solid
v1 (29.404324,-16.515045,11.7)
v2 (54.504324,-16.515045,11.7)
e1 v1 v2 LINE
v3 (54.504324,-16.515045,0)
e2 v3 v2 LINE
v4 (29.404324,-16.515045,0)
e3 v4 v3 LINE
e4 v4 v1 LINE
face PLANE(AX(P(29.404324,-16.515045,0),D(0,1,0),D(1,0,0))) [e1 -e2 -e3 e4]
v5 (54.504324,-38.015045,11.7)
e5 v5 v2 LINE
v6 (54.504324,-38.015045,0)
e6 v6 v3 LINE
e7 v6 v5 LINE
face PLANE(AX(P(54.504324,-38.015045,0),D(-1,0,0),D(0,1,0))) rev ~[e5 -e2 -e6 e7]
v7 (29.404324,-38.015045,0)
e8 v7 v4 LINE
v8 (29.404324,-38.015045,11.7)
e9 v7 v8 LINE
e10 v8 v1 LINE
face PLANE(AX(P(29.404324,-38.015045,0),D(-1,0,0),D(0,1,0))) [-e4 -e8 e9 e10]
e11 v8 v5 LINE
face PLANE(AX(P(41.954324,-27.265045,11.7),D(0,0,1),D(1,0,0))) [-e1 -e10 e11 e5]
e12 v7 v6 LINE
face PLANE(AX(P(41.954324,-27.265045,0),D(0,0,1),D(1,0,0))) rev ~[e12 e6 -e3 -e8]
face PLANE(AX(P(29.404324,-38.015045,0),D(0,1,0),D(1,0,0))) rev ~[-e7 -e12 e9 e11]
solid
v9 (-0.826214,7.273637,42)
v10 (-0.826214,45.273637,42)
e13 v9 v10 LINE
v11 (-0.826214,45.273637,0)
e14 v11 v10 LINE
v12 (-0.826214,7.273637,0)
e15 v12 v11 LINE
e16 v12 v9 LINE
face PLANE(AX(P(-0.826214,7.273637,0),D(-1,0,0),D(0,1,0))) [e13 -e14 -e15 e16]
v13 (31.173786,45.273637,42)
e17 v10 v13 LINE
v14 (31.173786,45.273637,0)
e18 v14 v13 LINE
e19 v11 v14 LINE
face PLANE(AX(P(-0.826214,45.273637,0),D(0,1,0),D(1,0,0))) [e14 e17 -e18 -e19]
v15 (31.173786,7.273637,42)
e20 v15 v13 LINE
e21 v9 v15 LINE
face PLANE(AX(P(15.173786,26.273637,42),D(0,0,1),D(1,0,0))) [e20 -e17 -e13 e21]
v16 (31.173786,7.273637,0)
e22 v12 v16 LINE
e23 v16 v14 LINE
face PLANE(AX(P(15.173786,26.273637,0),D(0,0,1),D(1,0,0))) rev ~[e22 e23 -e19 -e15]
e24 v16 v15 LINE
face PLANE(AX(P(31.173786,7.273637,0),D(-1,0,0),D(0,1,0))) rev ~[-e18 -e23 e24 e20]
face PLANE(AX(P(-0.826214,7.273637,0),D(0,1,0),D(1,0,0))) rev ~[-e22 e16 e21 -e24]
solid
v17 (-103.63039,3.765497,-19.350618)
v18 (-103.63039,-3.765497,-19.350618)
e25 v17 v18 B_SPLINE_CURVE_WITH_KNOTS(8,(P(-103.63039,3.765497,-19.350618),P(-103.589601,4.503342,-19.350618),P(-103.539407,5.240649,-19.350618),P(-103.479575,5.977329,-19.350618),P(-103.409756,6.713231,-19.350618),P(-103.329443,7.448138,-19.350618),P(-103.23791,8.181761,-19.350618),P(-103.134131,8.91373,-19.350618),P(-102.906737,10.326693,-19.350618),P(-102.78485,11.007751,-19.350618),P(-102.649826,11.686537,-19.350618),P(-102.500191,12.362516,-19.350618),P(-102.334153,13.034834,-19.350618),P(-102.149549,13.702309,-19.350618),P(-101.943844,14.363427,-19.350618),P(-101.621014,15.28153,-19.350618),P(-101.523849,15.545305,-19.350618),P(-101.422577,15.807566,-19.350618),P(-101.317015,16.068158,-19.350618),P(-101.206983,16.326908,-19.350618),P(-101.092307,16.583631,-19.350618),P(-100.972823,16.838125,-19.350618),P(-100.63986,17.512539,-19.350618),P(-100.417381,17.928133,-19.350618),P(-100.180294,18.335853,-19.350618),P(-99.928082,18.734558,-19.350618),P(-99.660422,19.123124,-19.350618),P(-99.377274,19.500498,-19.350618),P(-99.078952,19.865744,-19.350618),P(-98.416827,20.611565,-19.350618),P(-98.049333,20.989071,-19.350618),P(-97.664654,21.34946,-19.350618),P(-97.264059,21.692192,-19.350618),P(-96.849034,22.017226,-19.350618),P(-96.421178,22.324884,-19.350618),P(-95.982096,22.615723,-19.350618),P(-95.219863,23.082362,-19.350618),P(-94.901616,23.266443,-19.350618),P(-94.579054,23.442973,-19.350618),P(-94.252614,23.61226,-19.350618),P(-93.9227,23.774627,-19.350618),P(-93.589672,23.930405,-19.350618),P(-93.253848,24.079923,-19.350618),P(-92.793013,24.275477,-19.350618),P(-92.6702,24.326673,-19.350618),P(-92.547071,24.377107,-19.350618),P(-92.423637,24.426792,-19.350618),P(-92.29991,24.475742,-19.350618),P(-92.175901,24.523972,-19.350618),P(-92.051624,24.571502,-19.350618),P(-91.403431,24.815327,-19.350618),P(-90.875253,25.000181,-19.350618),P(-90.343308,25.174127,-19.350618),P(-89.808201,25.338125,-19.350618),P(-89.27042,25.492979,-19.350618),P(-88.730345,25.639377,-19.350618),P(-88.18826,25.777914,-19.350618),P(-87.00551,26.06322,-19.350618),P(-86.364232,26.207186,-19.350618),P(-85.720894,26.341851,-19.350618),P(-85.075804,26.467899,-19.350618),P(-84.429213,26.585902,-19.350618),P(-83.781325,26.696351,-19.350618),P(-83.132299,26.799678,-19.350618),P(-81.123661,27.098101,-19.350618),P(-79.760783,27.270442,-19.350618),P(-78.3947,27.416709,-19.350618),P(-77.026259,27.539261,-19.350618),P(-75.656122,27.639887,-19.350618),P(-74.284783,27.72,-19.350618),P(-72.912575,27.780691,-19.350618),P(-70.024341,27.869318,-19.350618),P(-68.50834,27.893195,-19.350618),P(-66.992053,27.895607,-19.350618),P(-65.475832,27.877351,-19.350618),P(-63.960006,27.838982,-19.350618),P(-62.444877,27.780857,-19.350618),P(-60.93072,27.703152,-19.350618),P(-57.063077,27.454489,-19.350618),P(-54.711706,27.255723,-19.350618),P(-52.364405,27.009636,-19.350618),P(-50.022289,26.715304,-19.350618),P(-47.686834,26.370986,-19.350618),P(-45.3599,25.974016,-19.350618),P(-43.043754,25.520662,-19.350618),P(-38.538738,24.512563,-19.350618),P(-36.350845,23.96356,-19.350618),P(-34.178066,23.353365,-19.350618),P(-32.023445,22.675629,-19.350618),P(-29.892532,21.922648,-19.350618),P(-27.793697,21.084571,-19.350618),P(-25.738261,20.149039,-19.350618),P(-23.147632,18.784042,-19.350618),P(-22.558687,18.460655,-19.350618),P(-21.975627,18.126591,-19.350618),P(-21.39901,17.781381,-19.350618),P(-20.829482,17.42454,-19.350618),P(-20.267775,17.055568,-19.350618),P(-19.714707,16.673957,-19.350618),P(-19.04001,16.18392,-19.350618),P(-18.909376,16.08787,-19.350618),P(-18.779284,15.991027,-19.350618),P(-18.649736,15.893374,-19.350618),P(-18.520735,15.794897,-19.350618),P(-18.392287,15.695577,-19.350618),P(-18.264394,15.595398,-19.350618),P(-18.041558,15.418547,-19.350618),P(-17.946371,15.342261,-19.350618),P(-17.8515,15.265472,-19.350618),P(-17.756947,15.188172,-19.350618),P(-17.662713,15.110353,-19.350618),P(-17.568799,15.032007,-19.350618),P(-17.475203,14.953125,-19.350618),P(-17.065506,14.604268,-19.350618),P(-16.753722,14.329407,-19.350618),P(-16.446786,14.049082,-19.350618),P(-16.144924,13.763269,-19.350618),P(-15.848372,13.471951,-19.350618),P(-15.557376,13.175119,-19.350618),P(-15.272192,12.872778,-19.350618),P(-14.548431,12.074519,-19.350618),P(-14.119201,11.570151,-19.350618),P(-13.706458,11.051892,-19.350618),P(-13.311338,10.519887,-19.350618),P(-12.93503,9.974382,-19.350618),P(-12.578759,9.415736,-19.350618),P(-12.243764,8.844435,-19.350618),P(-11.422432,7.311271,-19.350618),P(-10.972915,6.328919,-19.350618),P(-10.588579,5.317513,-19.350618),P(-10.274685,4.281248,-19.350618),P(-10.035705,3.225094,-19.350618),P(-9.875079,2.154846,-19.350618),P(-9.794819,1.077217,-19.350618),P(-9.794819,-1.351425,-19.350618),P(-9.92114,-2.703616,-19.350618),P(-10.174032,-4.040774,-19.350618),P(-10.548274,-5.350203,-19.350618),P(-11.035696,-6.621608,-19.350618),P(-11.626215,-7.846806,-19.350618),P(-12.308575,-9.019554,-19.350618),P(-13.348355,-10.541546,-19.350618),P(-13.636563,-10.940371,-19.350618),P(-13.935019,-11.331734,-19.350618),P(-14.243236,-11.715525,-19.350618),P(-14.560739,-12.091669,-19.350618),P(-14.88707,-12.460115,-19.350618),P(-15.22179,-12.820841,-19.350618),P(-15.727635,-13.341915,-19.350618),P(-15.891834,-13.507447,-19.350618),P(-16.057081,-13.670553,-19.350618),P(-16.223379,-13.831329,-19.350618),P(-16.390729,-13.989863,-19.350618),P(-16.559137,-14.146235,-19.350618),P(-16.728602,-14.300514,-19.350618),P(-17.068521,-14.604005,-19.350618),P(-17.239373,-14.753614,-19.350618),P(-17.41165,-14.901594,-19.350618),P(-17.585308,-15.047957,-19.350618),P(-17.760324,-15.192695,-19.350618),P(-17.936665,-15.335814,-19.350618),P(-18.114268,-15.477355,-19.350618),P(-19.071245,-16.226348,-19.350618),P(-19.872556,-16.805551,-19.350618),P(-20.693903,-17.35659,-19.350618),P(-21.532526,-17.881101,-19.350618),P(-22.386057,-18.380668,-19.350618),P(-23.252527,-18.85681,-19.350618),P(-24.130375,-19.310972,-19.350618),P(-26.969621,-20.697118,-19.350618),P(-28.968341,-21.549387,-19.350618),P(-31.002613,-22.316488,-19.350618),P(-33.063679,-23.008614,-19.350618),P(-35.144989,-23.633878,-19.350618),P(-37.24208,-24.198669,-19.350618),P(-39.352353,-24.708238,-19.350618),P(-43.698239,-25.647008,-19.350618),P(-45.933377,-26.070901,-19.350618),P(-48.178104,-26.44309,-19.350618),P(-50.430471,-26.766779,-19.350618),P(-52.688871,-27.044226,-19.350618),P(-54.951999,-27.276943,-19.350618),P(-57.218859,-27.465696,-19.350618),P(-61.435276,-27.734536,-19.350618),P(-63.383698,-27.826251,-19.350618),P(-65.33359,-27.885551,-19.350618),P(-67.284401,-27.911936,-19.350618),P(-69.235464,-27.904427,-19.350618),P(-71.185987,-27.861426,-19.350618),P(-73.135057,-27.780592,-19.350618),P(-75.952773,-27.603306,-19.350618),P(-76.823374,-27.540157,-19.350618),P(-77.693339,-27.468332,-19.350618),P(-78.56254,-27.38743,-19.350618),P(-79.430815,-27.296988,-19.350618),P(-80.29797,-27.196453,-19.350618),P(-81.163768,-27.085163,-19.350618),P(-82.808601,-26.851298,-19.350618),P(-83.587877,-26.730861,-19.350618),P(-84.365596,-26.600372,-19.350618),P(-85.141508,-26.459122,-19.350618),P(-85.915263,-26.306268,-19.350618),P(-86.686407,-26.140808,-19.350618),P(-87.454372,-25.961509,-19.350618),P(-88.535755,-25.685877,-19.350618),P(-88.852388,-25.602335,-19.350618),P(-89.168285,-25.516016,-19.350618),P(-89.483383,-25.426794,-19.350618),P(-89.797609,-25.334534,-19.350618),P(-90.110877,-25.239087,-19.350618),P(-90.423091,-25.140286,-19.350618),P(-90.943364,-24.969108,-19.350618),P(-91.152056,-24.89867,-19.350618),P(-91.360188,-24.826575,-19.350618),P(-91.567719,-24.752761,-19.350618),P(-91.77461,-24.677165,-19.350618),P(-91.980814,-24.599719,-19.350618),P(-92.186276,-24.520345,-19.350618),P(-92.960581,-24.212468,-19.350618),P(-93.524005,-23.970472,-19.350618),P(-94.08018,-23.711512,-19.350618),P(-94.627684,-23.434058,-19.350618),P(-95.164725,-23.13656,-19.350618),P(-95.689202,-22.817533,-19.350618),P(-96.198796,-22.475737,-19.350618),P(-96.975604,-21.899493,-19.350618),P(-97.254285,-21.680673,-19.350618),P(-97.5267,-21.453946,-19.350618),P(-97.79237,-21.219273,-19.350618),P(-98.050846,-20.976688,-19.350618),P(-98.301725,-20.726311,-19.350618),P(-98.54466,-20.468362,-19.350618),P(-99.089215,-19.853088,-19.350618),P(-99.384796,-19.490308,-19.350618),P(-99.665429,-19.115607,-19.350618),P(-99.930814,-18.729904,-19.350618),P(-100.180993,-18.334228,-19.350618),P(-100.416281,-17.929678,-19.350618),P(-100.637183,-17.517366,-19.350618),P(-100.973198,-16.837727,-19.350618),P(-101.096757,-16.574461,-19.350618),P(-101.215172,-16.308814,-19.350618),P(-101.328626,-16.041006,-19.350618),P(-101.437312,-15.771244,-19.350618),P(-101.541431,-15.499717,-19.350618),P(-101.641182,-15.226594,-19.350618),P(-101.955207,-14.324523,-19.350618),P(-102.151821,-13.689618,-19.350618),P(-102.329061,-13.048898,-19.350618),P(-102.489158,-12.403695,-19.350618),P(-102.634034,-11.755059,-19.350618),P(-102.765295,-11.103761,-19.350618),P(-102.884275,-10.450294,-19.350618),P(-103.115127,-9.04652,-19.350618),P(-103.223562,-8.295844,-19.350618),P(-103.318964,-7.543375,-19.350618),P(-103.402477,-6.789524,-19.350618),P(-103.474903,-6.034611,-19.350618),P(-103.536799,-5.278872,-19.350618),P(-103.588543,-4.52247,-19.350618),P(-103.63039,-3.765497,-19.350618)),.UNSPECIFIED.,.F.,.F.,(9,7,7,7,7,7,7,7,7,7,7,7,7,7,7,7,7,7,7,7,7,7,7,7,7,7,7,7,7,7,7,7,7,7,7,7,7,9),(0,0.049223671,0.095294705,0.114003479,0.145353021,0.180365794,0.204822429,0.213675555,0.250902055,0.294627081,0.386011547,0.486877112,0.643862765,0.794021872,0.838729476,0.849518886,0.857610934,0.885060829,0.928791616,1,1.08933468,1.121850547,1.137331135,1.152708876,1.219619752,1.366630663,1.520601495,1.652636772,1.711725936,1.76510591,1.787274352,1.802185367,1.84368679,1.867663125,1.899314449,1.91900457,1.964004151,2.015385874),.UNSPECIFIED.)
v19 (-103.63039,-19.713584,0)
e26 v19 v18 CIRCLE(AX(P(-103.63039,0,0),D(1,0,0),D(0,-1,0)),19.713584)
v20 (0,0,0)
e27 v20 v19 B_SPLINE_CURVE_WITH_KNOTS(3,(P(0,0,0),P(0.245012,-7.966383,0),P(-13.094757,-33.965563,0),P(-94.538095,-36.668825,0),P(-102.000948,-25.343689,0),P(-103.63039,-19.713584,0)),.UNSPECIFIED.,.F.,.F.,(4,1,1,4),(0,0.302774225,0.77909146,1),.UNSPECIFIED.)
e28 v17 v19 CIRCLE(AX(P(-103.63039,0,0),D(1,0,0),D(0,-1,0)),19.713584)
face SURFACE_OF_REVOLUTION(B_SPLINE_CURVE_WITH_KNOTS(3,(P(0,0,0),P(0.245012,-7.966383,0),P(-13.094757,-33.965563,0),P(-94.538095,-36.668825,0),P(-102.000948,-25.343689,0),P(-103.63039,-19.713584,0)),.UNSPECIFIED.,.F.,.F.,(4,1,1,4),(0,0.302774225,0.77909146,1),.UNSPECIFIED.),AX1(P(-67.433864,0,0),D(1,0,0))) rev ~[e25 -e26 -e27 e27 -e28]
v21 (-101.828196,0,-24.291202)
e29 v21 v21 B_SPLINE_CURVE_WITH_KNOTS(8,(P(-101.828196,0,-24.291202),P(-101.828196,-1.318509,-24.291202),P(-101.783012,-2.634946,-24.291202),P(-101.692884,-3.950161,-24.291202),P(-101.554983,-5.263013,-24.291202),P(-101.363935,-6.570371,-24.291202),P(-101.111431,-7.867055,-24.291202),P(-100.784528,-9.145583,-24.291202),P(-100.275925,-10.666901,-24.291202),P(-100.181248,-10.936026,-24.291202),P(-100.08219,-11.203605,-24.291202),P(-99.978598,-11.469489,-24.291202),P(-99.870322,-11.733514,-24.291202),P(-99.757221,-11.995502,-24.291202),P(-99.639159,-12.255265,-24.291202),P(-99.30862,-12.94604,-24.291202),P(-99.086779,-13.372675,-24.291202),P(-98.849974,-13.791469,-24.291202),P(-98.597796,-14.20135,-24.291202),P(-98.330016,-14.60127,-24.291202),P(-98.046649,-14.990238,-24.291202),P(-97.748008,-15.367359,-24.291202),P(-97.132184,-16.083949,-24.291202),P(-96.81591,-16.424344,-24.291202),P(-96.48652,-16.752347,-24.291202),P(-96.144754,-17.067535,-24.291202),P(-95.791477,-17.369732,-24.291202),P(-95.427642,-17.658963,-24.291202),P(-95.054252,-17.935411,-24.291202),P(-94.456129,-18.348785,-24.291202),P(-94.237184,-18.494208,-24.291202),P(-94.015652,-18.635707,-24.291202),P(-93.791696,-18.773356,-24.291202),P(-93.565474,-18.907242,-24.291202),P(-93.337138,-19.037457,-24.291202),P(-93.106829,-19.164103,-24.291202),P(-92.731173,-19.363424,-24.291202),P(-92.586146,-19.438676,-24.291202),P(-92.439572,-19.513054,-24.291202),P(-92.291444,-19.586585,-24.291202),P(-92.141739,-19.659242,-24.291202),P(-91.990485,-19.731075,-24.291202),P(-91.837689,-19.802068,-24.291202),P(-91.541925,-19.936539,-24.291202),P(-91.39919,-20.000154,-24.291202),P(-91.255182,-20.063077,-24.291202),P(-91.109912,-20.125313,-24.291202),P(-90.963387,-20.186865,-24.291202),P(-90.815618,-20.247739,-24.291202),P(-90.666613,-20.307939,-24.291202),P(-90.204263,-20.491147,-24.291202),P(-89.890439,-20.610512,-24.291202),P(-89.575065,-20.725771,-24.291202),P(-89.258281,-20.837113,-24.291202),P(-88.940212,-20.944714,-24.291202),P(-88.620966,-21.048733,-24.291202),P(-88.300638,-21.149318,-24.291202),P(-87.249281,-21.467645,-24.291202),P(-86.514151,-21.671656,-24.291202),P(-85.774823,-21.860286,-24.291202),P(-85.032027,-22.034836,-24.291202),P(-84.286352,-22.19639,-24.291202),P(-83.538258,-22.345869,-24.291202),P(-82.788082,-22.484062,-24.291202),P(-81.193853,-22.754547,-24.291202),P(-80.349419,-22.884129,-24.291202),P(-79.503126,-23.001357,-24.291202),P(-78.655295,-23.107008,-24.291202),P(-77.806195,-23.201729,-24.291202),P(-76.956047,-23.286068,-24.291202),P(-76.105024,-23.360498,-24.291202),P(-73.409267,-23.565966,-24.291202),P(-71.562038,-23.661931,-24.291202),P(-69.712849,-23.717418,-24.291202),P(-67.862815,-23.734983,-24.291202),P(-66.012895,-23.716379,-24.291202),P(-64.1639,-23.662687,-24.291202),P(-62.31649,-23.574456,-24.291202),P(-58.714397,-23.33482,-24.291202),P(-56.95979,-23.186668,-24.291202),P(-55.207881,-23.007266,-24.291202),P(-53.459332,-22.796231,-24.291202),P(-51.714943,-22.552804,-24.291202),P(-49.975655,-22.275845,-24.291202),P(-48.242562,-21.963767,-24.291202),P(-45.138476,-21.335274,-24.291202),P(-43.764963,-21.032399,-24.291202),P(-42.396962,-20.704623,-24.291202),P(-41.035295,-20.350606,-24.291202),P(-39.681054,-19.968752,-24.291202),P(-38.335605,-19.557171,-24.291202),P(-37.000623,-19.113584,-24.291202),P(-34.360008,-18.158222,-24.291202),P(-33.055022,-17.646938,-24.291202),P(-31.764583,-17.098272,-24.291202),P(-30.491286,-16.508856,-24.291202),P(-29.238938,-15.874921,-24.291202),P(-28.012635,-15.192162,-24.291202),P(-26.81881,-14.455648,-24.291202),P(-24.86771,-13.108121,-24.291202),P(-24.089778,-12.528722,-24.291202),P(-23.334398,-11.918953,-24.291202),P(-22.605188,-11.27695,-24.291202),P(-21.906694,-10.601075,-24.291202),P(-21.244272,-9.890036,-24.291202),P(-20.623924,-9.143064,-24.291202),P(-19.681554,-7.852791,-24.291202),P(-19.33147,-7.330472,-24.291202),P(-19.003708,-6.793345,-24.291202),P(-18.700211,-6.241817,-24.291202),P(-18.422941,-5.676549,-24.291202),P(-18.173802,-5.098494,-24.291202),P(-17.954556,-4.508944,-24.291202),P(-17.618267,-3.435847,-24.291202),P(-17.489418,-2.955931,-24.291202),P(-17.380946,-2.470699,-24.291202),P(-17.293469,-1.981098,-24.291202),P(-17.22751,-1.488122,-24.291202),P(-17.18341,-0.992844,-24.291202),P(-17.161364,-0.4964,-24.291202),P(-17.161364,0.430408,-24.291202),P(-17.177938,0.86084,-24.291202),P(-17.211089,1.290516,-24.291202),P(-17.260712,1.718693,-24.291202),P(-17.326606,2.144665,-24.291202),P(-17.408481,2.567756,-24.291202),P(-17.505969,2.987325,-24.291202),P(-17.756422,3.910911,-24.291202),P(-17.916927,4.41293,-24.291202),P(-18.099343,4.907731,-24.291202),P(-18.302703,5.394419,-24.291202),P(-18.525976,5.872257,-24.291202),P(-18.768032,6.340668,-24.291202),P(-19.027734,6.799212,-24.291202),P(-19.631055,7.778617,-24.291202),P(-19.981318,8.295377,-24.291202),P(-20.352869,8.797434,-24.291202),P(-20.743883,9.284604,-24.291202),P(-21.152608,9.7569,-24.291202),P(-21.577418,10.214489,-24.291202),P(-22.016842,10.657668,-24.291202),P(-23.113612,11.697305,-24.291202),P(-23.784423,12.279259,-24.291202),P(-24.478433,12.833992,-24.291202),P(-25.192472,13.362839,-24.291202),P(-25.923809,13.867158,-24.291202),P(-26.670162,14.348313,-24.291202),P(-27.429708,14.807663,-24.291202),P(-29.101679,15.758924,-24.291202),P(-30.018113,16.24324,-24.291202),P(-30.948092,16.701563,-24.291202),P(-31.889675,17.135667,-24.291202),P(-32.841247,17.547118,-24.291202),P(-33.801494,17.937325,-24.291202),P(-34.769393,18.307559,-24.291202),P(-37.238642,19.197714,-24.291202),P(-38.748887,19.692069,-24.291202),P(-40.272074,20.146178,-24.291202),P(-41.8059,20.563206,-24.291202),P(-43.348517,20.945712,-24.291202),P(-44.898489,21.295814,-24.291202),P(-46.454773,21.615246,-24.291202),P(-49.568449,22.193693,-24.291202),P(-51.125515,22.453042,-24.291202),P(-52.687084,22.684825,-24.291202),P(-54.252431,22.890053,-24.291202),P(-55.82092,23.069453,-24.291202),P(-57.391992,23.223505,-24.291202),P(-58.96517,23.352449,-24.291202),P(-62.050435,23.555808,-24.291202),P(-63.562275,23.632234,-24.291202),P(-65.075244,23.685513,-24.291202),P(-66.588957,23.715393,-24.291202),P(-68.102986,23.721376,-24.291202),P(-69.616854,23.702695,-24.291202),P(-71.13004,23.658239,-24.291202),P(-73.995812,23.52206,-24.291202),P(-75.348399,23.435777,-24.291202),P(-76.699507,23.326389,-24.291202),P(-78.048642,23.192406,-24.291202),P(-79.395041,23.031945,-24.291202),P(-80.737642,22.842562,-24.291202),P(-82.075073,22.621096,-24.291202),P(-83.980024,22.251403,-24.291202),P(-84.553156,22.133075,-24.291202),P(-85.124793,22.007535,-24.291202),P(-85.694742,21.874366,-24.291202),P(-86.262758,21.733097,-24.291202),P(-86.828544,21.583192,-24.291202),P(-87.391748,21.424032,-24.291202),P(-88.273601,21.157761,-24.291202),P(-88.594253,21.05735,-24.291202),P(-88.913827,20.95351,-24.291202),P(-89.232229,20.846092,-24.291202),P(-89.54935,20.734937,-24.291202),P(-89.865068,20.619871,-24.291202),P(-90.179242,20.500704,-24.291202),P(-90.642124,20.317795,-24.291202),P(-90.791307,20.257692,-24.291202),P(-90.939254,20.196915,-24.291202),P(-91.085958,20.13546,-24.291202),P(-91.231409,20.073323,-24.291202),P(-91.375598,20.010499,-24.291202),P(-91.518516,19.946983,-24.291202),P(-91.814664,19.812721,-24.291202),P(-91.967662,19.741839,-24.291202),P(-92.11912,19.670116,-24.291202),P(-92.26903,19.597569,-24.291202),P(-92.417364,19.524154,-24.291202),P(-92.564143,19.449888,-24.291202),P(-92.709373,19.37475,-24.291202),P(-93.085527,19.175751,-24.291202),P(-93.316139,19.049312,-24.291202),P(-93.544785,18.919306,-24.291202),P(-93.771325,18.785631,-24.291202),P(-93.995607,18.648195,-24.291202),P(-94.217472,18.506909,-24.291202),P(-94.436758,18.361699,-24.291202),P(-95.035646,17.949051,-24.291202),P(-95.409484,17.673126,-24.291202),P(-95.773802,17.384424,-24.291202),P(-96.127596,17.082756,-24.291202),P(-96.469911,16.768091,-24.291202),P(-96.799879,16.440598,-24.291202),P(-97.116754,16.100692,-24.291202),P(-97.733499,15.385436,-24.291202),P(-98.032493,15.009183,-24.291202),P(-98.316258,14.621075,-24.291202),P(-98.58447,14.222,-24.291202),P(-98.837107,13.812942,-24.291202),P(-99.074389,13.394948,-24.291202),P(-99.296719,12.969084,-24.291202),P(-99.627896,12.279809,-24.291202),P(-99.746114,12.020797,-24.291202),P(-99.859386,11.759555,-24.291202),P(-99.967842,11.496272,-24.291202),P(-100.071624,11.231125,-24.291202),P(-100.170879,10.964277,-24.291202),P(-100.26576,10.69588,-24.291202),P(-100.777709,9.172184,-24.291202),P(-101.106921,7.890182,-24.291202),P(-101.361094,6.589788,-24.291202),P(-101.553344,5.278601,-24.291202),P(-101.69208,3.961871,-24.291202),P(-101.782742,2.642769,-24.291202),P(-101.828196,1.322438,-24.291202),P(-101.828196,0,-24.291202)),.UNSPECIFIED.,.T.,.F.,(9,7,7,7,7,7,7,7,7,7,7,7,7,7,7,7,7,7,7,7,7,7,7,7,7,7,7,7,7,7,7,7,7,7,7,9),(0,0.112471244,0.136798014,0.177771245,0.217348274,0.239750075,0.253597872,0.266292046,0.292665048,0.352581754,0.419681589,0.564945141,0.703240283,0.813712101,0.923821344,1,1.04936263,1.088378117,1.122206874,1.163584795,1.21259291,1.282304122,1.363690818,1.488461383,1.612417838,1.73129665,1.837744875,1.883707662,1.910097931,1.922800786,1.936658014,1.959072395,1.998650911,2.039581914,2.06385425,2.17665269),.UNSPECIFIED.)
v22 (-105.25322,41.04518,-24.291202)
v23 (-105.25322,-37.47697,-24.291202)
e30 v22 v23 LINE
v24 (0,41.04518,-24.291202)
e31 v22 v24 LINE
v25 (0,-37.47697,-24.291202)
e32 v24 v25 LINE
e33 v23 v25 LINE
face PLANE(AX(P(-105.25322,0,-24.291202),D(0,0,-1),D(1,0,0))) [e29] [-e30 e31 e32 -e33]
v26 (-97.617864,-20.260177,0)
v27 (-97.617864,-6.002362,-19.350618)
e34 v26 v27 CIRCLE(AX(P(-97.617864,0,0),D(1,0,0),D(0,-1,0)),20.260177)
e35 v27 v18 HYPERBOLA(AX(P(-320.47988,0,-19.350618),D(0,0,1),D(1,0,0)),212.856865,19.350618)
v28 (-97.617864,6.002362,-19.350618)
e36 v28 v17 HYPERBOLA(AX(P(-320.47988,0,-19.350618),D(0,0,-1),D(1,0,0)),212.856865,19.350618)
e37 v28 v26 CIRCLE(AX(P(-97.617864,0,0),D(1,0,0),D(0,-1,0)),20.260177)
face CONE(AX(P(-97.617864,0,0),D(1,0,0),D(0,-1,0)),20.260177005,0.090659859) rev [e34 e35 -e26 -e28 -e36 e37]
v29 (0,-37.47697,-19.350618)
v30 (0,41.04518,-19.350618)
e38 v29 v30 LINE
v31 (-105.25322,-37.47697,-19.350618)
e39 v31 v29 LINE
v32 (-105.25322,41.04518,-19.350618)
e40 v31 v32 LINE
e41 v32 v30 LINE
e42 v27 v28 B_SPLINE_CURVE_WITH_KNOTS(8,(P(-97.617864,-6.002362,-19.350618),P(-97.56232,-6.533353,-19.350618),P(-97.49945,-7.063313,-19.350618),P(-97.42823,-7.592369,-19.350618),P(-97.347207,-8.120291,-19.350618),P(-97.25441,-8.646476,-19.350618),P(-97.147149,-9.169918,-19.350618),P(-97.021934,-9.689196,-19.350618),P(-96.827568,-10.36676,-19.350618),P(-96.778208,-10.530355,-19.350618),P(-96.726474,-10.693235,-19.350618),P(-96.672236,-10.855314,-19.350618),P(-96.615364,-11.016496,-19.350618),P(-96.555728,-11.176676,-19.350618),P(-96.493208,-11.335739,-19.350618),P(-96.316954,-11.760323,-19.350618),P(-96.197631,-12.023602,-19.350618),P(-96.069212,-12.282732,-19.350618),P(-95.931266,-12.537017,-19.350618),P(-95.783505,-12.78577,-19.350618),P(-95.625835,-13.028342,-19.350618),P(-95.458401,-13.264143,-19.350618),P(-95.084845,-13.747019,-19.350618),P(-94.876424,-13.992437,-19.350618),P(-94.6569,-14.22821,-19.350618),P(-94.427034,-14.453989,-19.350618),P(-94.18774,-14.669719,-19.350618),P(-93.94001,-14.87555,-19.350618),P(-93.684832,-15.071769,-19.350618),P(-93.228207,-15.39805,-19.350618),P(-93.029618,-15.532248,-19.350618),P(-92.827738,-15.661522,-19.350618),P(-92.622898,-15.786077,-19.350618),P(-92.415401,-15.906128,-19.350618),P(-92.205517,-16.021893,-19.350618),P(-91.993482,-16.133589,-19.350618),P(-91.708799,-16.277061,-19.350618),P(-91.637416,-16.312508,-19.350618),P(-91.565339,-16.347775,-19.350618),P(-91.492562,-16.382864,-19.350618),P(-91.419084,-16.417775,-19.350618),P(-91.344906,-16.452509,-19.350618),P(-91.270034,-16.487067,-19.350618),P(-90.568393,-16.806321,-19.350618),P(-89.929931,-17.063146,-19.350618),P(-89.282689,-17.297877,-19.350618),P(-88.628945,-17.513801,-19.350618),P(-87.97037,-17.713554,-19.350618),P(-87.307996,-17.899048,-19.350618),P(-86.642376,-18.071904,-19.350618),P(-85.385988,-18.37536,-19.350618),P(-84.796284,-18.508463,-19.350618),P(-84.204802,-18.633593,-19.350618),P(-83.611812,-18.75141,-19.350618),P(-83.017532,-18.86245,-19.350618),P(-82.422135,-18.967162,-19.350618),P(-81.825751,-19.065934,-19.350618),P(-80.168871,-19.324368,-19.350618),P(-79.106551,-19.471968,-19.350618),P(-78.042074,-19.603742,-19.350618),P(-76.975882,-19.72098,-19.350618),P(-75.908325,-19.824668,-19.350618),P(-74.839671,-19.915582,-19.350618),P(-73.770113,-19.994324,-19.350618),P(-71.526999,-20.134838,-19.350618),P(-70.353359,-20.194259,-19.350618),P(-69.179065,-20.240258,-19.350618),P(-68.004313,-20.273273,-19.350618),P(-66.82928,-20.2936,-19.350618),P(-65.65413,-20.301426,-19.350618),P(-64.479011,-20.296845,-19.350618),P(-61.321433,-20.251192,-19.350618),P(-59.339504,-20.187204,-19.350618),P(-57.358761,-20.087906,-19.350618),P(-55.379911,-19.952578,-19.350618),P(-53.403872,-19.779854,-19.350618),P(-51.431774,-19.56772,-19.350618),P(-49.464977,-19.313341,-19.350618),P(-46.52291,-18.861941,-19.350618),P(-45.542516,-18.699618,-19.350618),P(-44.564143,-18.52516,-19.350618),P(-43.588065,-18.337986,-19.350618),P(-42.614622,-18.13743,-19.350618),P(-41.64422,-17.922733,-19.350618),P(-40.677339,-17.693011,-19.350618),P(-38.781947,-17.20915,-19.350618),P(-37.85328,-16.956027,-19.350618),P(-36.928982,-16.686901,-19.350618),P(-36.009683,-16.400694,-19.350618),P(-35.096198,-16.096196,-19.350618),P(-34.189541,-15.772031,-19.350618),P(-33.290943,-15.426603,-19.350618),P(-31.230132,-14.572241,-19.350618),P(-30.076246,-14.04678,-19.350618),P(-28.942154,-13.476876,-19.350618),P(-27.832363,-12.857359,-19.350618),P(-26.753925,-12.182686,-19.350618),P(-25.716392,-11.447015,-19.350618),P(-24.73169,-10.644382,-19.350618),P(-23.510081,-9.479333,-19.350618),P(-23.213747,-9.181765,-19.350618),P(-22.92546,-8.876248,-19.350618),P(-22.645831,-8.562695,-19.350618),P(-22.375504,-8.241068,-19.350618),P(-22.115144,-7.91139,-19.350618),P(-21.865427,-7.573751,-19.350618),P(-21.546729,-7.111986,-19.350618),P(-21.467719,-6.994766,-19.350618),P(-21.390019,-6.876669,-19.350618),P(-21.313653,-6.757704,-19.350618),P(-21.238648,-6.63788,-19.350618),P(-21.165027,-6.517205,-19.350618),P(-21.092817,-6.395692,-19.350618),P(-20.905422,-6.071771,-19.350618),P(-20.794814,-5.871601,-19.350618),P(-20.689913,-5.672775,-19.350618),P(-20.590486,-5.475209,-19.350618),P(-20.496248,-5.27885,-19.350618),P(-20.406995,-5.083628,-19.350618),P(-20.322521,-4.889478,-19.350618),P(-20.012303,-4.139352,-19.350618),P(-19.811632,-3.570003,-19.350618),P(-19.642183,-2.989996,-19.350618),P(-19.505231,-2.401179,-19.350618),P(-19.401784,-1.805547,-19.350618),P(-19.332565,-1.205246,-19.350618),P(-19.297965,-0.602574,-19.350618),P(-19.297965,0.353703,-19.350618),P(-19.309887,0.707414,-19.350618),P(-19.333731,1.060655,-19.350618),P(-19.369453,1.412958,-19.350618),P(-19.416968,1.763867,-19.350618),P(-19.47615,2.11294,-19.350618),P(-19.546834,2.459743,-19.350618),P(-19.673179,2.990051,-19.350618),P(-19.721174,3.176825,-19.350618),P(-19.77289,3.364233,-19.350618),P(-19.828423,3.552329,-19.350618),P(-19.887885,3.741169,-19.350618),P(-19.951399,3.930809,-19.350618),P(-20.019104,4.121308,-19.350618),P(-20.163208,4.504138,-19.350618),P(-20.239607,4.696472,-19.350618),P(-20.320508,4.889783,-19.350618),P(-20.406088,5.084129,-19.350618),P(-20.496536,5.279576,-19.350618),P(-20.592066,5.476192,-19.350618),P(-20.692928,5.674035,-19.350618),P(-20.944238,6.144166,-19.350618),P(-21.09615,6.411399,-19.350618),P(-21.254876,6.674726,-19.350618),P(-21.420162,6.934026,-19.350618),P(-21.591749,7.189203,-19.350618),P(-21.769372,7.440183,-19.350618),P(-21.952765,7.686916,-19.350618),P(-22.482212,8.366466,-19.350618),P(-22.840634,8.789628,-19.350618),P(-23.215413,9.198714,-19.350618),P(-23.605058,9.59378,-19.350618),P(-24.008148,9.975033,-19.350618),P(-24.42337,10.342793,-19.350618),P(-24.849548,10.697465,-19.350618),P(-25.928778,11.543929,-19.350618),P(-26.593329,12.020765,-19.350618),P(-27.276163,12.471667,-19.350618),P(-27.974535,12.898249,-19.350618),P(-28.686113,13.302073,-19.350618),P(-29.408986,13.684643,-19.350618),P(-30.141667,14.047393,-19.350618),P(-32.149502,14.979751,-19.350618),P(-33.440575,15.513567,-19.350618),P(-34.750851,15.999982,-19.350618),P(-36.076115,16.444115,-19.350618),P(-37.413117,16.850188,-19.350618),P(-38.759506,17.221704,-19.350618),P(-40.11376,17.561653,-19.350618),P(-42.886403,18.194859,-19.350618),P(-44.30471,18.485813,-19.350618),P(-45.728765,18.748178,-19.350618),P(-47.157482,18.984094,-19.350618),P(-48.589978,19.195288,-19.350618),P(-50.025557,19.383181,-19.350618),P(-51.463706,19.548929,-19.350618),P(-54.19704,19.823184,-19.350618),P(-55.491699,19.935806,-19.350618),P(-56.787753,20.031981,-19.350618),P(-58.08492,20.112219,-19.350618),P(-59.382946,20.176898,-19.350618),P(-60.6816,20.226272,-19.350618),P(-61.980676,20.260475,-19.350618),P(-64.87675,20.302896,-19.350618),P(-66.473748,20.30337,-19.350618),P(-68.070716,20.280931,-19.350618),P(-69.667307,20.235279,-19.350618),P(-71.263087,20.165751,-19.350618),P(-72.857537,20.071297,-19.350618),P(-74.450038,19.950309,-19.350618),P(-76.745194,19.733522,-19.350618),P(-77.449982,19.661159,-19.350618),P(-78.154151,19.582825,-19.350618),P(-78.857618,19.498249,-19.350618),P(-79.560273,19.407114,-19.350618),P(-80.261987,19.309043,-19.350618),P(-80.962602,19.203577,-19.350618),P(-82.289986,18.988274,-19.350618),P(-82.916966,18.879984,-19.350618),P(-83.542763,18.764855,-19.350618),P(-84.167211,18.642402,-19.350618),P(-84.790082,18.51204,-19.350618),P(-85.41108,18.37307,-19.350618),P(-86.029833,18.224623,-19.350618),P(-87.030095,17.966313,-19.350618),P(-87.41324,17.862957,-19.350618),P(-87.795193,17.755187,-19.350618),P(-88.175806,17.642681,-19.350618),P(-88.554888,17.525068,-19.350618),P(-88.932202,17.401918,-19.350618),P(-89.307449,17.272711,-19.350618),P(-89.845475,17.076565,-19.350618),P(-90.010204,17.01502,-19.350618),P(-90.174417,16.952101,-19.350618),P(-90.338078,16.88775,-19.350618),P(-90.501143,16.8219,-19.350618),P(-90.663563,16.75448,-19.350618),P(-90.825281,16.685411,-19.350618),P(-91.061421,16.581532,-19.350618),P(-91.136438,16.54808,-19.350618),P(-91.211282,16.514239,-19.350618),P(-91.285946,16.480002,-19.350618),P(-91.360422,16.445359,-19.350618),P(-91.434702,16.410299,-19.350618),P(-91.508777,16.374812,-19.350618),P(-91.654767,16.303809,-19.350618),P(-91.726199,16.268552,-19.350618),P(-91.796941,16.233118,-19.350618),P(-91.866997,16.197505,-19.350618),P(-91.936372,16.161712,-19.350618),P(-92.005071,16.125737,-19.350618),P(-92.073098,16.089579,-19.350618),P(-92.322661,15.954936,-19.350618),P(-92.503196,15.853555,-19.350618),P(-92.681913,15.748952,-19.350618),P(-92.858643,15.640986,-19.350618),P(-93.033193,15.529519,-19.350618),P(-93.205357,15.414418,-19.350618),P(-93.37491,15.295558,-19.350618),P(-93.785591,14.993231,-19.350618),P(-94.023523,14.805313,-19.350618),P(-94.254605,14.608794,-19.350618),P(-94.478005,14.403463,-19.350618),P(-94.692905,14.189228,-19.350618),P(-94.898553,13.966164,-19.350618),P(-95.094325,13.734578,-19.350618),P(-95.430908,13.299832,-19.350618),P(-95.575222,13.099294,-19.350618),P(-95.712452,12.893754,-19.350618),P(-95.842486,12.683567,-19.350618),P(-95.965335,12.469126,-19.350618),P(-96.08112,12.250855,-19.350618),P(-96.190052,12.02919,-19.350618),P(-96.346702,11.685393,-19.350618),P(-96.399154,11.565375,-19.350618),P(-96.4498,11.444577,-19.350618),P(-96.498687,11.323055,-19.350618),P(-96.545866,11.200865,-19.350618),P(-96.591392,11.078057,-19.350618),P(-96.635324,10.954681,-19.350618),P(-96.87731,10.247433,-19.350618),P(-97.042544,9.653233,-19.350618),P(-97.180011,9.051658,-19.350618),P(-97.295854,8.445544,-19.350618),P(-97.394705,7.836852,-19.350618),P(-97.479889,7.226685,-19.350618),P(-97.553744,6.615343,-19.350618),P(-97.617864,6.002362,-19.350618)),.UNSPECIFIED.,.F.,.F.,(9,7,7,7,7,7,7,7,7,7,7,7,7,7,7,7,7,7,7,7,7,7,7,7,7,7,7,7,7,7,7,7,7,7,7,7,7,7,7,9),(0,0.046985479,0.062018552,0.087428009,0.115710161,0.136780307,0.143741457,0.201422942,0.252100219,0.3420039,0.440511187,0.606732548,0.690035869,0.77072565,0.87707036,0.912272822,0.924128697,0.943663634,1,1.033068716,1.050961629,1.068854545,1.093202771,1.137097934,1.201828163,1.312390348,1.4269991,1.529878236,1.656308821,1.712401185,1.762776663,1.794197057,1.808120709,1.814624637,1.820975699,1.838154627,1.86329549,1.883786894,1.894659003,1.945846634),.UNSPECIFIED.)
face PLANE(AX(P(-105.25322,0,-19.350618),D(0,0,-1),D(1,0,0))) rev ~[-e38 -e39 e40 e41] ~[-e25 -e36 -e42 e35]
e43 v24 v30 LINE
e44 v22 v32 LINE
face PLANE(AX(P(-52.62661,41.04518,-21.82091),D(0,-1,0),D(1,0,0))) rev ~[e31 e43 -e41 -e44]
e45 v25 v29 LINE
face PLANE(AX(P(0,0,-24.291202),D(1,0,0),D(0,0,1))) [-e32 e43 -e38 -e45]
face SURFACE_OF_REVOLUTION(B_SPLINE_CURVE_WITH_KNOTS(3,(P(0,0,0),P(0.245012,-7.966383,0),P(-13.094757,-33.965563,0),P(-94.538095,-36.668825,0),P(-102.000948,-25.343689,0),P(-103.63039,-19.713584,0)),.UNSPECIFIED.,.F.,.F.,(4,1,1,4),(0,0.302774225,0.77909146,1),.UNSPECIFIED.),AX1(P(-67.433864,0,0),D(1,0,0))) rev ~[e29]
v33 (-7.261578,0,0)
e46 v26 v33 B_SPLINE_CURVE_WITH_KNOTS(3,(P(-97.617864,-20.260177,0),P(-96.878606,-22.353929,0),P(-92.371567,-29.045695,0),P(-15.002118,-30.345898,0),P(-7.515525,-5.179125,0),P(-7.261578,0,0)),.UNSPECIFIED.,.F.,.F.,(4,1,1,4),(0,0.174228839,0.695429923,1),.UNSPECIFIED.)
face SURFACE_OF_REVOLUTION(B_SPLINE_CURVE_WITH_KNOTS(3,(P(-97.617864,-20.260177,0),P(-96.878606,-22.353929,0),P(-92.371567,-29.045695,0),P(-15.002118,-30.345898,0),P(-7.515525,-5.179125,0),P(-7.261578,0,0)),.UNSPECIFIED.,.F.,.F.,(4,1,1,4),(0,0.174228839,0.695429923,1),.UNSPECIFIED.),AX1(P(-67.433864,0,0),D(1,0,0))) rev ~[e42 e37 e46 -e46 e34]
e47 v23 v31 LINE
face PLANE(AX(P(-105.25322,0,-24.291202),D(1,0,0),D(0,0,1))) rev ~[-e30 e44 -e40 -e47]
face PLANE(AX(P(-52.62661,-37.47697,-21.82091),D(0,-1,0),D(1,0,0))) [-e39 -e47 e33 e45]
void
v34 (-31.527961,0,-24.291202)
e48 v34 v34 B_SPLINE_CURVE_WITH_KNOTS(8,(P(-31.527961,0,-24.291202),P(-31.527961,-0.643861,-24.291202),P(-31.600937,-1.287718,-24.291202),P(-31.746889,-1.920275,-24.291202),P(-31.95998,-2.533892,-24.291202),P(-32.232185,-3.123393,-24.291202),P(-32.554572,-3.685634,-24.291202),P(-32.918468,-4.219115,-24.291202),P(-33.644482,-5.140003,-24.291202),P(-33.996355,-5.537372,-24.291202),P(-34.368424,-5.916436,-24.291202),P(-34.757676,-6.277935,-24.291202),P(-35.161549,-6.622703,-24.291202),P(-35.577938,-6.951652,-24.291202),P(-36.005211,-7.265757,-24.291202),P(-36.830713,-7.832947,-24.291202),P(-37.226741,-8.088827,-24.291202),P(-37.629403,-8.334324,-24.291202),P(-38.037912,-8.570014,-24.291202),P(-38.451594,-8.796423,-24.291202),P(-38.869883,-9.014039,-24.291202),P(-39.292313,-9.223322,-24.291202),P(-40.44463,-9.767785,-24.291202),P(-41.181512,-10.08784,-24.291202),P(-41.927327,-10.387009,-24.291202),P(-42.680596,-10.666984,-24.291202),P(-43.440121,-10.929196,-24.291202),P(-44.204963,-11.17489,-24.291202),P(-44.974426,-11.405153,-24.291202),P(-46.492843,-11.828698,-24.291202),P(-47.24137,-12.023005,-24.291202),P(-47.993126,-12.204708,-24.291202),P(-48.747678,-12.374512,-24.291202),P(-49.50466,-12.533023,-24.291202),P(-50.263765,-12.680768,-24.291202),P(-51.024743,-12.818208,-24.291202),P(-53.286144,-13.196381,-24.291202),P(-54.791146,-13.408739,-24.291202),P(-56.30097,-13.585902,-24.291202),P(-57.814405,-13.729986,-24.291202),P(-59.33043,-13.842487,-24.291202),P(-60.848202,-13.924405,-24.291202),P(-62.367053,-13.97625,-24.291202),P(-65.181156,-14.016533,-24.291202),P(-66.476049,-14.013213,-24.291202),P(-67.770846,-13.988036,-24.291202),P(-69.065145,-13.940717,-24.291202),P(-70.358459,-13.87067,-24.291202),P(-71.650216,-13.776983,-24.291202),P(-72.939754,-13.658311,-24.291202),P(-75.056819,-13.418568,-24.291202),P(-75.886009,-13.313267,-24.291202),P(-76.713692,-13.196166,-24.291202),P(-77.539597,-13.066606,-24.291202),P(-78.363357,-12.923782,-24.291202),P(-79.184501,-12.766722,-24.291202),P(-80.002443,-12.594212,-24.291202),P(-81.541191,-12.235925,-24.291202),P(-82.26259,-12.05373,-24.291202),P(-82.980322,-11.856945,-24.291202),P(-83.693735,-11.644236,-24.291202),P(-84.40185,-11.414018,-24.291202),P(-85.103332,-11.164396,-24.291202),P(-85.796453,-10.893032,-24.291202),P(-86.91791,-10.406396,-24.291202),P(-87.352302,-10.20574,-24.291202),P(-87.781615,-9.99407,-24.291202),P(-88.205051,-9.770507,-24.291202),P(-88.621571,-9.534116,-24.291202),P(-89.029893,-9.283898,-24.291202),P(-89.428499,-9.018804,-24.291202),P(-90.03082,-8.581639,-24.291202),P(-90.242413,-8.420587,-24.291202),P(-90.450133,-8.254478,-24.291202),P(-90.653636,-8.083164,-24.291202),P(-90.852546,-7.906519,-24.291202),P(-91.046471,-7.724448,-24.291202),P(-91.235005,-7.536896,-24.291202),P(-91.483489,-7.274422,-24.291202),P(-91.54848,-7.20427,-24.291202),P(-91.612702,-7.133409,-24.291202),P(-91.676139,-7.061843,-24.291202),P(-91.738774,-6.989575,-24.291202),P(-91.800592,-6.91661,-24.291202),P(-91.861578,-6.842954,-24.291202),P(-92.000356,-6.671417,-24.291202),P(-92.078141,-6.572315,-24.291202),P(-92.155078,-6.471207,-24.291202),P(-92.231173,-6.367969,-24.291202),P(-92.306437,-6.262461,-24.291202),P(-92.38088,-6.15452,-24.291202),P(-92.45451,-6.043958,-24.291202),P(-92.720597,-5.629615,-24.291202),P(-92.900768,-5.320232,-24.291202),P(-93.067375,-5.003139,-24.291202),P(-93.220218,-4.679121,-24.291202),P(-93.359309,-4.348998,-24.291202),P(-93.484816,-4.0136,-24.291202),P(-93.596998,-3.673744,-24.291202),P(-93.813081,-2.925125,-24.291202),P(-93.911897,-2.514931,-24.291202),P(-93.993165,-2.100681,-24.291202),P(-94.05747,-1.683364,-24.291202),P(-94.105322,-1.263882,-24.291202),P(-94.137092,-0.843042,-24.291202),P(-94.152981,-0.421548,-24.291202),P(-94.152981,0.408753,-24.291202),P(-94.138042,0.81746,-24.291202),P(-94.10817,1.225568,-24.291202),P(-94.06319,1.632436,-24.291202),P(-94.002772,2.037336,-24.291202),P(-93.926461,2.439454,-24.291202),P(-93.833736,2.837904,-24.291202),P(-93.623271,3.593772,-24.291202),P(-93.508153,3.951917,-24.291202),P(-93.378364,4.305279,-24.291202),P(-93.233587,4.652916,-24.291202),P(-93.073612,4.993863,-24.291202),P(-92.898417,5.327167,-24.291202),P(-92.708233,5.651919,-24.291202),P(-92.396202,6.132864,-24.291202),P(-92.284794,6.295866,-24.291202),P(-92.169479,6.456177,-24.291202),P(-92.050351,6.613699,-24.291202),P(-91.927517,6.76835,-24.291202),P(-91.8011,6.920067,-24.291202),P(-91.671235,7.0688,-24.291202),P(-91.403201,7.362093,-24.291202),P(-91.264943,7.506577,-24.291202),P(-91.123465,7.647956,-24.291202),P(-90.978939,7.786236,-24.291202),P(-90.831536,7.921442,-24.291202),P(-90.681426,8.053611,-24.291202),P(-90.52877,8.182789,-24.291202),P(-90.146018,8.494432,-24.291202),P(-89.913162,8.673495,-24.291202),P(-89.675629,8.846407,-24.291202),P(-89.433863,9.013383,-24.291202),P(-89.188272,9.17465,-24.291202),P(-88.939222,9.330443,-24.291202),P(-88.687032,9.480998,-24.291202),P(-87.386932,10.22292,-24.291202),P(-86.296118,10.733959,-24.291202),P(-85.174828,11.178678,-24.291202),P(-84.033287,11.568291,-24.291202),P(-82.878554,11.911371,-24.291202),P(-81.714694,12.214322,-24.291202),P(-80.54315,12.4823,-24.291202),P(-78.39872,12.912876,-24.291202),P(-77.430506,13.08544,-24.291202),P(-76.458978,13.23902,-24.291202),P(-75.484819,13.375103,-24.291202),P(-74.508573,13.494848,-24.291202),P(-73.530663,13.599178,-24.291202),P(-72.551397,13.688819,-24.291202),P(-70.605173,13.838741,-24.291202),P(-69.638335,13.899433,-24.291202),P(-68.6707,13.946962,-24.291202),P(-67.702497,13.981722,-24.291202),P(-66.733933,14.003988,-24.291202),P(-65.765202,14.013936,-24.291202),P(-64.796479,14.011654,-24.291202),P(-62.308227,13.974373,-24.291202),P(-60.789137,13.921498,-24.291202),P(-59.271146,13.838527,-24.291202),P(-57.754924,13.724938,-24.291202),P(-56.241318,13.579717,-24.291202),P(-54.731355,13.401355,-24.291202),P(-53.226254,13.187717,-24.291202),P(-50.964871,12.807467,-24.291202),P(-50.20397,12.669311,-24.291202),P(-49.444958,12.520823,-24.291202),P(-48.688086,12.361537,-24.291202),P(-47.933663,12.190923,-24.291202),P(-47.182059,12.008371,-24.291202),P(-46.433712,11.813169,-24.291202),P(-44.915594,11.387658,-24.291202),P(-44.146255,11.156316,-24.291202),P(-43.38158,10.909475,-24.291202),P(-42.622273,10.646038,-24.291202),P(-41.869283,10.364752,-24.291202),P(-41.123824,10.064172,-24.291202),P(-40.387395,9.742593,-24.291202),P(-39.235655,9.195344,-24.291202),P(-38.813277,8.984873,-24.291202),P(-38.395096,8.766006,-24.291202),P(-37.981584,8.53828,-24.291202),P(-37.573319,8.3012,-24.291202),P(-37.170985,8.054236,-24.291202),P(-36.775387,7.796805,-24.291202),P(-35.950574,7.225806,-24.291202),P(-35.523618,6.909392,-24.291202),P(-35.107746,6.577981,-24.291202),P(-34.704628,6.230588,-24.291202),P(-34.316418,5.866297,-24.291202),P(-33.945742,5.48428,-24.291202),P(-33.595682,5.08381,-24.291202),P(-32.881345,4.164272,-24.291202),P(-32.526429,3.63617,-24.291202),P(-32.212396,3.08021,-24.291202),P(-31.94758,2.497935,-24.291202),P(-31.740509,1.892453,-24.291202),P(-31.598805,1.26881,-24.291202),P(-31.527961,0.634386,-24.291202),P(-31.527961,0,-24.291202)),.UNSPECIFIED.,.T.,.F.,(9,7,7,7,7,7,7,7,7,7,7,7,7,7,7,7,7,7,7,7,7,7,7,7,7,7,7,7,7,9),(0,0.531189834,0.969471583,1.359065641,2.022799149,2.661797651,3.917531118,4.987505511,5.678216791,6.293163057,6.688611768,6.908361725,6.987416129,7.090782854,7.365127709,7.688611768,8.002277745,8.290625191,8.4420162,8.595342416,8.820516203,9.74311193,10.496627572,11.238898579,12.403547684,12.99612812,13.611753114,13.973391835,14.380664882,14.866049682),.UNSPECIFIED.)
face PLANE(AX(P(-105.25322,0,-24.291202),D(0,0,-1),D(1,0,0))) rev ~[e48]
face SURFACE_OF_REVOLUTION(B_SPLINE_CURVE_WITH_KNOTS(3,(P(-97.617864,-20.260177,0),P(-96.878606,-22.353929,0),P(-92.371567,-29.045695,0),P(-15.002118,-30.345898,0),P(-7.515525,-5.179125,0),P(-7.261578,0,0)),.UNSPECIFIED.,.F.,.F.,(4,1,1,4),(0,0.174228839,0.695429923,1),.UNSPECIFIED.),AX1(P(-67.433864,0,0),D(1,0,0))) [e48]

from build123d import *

# Parameters (mm, degrees)
F3_W          = 105.2532196045
F3_H          = 4.9405843019
F4_DEPTH      = 37.47697
F4_DEPTH_BACK = 41.04518
F5_W          = 25.1
F5_H          = 21.5
F6_DEPTH      = 11.7
F7_W          = 32
F7_H          = 38
F8_DEPTH      = 42


with BuildPart() as f2:
    # F0 (on Top) → F2 (revolve)
    with BuildSketch(Plane.XY):
        with BuildLine():
            add(Edge.make_bspline(
                [(0, 0), (0.2450121653, -7.966382748), (-13.094756908, -33.965562893), (-94.5380949913, -36.6688246631), (-102.0009481515, -25.3436889453), (-103.6303898238, -19.7135839509)],
                knots=[0, 0, 0, 0, 0.3027742251, 0.7790914601, 1, 1, 1, 1], degree=3))
            Line((0, 0), (-7.2615784593, 0))
            add(Edge.make_bspline(
                [(-97.6178643795, -20.2601770045), (-96.8786060506, -22.3539290403), (-92.3715666324, -29.0456948049), (-15.0021184586, -30.3458982987), (-7.5155254515, -5.1791248516), (-7.2615784593, 0)],
                knots=[0, 0, 0, 0, 0.1742288391, 0.6954299229, 1, 1, 1, 1], degree=3))
            Line((-97.6178643795, -20.2601770045), (-103.6303898238, -19.7135839509))
        make_face()
    revolve(axis=Axis((-67.4338643439, 0, 0), (1, 0, 0)))

    # F3 (on Front) → F4 (join, two sides)
    with BuildSketch(Plane.XZ) as f4_sk:
        with Locations((-52.6266098022, -21.820910275)):
            Rectangle(F3_W, F3_H)
    extrude(amount=F4_DEPTH)
    extrude(f4_sk.sketch, amount=-F4_DEPTH_BACK)


with BuildPart() as f6:
    # F5 (on Top) → F6 (new body)
    with BuildSketch(Plane.XY):
        with Locations((41.9543237507, -27.2650452256)):
            Rectangle(F5_W, F5_H)
    extrude(amount=F6_DEPTH)


with BuildPart() as f8:
    # F7 (on Top) → F8 (new body)
    with BuildSketch(Plane.XY):
        with Locations((15.1737861484, 26.2736367583)):
            Rectangle(F7_W, F7_H)
    extrude(amount=F8_DEPTH)


solid = Compound([f2.part, f6.part, f8.part])
